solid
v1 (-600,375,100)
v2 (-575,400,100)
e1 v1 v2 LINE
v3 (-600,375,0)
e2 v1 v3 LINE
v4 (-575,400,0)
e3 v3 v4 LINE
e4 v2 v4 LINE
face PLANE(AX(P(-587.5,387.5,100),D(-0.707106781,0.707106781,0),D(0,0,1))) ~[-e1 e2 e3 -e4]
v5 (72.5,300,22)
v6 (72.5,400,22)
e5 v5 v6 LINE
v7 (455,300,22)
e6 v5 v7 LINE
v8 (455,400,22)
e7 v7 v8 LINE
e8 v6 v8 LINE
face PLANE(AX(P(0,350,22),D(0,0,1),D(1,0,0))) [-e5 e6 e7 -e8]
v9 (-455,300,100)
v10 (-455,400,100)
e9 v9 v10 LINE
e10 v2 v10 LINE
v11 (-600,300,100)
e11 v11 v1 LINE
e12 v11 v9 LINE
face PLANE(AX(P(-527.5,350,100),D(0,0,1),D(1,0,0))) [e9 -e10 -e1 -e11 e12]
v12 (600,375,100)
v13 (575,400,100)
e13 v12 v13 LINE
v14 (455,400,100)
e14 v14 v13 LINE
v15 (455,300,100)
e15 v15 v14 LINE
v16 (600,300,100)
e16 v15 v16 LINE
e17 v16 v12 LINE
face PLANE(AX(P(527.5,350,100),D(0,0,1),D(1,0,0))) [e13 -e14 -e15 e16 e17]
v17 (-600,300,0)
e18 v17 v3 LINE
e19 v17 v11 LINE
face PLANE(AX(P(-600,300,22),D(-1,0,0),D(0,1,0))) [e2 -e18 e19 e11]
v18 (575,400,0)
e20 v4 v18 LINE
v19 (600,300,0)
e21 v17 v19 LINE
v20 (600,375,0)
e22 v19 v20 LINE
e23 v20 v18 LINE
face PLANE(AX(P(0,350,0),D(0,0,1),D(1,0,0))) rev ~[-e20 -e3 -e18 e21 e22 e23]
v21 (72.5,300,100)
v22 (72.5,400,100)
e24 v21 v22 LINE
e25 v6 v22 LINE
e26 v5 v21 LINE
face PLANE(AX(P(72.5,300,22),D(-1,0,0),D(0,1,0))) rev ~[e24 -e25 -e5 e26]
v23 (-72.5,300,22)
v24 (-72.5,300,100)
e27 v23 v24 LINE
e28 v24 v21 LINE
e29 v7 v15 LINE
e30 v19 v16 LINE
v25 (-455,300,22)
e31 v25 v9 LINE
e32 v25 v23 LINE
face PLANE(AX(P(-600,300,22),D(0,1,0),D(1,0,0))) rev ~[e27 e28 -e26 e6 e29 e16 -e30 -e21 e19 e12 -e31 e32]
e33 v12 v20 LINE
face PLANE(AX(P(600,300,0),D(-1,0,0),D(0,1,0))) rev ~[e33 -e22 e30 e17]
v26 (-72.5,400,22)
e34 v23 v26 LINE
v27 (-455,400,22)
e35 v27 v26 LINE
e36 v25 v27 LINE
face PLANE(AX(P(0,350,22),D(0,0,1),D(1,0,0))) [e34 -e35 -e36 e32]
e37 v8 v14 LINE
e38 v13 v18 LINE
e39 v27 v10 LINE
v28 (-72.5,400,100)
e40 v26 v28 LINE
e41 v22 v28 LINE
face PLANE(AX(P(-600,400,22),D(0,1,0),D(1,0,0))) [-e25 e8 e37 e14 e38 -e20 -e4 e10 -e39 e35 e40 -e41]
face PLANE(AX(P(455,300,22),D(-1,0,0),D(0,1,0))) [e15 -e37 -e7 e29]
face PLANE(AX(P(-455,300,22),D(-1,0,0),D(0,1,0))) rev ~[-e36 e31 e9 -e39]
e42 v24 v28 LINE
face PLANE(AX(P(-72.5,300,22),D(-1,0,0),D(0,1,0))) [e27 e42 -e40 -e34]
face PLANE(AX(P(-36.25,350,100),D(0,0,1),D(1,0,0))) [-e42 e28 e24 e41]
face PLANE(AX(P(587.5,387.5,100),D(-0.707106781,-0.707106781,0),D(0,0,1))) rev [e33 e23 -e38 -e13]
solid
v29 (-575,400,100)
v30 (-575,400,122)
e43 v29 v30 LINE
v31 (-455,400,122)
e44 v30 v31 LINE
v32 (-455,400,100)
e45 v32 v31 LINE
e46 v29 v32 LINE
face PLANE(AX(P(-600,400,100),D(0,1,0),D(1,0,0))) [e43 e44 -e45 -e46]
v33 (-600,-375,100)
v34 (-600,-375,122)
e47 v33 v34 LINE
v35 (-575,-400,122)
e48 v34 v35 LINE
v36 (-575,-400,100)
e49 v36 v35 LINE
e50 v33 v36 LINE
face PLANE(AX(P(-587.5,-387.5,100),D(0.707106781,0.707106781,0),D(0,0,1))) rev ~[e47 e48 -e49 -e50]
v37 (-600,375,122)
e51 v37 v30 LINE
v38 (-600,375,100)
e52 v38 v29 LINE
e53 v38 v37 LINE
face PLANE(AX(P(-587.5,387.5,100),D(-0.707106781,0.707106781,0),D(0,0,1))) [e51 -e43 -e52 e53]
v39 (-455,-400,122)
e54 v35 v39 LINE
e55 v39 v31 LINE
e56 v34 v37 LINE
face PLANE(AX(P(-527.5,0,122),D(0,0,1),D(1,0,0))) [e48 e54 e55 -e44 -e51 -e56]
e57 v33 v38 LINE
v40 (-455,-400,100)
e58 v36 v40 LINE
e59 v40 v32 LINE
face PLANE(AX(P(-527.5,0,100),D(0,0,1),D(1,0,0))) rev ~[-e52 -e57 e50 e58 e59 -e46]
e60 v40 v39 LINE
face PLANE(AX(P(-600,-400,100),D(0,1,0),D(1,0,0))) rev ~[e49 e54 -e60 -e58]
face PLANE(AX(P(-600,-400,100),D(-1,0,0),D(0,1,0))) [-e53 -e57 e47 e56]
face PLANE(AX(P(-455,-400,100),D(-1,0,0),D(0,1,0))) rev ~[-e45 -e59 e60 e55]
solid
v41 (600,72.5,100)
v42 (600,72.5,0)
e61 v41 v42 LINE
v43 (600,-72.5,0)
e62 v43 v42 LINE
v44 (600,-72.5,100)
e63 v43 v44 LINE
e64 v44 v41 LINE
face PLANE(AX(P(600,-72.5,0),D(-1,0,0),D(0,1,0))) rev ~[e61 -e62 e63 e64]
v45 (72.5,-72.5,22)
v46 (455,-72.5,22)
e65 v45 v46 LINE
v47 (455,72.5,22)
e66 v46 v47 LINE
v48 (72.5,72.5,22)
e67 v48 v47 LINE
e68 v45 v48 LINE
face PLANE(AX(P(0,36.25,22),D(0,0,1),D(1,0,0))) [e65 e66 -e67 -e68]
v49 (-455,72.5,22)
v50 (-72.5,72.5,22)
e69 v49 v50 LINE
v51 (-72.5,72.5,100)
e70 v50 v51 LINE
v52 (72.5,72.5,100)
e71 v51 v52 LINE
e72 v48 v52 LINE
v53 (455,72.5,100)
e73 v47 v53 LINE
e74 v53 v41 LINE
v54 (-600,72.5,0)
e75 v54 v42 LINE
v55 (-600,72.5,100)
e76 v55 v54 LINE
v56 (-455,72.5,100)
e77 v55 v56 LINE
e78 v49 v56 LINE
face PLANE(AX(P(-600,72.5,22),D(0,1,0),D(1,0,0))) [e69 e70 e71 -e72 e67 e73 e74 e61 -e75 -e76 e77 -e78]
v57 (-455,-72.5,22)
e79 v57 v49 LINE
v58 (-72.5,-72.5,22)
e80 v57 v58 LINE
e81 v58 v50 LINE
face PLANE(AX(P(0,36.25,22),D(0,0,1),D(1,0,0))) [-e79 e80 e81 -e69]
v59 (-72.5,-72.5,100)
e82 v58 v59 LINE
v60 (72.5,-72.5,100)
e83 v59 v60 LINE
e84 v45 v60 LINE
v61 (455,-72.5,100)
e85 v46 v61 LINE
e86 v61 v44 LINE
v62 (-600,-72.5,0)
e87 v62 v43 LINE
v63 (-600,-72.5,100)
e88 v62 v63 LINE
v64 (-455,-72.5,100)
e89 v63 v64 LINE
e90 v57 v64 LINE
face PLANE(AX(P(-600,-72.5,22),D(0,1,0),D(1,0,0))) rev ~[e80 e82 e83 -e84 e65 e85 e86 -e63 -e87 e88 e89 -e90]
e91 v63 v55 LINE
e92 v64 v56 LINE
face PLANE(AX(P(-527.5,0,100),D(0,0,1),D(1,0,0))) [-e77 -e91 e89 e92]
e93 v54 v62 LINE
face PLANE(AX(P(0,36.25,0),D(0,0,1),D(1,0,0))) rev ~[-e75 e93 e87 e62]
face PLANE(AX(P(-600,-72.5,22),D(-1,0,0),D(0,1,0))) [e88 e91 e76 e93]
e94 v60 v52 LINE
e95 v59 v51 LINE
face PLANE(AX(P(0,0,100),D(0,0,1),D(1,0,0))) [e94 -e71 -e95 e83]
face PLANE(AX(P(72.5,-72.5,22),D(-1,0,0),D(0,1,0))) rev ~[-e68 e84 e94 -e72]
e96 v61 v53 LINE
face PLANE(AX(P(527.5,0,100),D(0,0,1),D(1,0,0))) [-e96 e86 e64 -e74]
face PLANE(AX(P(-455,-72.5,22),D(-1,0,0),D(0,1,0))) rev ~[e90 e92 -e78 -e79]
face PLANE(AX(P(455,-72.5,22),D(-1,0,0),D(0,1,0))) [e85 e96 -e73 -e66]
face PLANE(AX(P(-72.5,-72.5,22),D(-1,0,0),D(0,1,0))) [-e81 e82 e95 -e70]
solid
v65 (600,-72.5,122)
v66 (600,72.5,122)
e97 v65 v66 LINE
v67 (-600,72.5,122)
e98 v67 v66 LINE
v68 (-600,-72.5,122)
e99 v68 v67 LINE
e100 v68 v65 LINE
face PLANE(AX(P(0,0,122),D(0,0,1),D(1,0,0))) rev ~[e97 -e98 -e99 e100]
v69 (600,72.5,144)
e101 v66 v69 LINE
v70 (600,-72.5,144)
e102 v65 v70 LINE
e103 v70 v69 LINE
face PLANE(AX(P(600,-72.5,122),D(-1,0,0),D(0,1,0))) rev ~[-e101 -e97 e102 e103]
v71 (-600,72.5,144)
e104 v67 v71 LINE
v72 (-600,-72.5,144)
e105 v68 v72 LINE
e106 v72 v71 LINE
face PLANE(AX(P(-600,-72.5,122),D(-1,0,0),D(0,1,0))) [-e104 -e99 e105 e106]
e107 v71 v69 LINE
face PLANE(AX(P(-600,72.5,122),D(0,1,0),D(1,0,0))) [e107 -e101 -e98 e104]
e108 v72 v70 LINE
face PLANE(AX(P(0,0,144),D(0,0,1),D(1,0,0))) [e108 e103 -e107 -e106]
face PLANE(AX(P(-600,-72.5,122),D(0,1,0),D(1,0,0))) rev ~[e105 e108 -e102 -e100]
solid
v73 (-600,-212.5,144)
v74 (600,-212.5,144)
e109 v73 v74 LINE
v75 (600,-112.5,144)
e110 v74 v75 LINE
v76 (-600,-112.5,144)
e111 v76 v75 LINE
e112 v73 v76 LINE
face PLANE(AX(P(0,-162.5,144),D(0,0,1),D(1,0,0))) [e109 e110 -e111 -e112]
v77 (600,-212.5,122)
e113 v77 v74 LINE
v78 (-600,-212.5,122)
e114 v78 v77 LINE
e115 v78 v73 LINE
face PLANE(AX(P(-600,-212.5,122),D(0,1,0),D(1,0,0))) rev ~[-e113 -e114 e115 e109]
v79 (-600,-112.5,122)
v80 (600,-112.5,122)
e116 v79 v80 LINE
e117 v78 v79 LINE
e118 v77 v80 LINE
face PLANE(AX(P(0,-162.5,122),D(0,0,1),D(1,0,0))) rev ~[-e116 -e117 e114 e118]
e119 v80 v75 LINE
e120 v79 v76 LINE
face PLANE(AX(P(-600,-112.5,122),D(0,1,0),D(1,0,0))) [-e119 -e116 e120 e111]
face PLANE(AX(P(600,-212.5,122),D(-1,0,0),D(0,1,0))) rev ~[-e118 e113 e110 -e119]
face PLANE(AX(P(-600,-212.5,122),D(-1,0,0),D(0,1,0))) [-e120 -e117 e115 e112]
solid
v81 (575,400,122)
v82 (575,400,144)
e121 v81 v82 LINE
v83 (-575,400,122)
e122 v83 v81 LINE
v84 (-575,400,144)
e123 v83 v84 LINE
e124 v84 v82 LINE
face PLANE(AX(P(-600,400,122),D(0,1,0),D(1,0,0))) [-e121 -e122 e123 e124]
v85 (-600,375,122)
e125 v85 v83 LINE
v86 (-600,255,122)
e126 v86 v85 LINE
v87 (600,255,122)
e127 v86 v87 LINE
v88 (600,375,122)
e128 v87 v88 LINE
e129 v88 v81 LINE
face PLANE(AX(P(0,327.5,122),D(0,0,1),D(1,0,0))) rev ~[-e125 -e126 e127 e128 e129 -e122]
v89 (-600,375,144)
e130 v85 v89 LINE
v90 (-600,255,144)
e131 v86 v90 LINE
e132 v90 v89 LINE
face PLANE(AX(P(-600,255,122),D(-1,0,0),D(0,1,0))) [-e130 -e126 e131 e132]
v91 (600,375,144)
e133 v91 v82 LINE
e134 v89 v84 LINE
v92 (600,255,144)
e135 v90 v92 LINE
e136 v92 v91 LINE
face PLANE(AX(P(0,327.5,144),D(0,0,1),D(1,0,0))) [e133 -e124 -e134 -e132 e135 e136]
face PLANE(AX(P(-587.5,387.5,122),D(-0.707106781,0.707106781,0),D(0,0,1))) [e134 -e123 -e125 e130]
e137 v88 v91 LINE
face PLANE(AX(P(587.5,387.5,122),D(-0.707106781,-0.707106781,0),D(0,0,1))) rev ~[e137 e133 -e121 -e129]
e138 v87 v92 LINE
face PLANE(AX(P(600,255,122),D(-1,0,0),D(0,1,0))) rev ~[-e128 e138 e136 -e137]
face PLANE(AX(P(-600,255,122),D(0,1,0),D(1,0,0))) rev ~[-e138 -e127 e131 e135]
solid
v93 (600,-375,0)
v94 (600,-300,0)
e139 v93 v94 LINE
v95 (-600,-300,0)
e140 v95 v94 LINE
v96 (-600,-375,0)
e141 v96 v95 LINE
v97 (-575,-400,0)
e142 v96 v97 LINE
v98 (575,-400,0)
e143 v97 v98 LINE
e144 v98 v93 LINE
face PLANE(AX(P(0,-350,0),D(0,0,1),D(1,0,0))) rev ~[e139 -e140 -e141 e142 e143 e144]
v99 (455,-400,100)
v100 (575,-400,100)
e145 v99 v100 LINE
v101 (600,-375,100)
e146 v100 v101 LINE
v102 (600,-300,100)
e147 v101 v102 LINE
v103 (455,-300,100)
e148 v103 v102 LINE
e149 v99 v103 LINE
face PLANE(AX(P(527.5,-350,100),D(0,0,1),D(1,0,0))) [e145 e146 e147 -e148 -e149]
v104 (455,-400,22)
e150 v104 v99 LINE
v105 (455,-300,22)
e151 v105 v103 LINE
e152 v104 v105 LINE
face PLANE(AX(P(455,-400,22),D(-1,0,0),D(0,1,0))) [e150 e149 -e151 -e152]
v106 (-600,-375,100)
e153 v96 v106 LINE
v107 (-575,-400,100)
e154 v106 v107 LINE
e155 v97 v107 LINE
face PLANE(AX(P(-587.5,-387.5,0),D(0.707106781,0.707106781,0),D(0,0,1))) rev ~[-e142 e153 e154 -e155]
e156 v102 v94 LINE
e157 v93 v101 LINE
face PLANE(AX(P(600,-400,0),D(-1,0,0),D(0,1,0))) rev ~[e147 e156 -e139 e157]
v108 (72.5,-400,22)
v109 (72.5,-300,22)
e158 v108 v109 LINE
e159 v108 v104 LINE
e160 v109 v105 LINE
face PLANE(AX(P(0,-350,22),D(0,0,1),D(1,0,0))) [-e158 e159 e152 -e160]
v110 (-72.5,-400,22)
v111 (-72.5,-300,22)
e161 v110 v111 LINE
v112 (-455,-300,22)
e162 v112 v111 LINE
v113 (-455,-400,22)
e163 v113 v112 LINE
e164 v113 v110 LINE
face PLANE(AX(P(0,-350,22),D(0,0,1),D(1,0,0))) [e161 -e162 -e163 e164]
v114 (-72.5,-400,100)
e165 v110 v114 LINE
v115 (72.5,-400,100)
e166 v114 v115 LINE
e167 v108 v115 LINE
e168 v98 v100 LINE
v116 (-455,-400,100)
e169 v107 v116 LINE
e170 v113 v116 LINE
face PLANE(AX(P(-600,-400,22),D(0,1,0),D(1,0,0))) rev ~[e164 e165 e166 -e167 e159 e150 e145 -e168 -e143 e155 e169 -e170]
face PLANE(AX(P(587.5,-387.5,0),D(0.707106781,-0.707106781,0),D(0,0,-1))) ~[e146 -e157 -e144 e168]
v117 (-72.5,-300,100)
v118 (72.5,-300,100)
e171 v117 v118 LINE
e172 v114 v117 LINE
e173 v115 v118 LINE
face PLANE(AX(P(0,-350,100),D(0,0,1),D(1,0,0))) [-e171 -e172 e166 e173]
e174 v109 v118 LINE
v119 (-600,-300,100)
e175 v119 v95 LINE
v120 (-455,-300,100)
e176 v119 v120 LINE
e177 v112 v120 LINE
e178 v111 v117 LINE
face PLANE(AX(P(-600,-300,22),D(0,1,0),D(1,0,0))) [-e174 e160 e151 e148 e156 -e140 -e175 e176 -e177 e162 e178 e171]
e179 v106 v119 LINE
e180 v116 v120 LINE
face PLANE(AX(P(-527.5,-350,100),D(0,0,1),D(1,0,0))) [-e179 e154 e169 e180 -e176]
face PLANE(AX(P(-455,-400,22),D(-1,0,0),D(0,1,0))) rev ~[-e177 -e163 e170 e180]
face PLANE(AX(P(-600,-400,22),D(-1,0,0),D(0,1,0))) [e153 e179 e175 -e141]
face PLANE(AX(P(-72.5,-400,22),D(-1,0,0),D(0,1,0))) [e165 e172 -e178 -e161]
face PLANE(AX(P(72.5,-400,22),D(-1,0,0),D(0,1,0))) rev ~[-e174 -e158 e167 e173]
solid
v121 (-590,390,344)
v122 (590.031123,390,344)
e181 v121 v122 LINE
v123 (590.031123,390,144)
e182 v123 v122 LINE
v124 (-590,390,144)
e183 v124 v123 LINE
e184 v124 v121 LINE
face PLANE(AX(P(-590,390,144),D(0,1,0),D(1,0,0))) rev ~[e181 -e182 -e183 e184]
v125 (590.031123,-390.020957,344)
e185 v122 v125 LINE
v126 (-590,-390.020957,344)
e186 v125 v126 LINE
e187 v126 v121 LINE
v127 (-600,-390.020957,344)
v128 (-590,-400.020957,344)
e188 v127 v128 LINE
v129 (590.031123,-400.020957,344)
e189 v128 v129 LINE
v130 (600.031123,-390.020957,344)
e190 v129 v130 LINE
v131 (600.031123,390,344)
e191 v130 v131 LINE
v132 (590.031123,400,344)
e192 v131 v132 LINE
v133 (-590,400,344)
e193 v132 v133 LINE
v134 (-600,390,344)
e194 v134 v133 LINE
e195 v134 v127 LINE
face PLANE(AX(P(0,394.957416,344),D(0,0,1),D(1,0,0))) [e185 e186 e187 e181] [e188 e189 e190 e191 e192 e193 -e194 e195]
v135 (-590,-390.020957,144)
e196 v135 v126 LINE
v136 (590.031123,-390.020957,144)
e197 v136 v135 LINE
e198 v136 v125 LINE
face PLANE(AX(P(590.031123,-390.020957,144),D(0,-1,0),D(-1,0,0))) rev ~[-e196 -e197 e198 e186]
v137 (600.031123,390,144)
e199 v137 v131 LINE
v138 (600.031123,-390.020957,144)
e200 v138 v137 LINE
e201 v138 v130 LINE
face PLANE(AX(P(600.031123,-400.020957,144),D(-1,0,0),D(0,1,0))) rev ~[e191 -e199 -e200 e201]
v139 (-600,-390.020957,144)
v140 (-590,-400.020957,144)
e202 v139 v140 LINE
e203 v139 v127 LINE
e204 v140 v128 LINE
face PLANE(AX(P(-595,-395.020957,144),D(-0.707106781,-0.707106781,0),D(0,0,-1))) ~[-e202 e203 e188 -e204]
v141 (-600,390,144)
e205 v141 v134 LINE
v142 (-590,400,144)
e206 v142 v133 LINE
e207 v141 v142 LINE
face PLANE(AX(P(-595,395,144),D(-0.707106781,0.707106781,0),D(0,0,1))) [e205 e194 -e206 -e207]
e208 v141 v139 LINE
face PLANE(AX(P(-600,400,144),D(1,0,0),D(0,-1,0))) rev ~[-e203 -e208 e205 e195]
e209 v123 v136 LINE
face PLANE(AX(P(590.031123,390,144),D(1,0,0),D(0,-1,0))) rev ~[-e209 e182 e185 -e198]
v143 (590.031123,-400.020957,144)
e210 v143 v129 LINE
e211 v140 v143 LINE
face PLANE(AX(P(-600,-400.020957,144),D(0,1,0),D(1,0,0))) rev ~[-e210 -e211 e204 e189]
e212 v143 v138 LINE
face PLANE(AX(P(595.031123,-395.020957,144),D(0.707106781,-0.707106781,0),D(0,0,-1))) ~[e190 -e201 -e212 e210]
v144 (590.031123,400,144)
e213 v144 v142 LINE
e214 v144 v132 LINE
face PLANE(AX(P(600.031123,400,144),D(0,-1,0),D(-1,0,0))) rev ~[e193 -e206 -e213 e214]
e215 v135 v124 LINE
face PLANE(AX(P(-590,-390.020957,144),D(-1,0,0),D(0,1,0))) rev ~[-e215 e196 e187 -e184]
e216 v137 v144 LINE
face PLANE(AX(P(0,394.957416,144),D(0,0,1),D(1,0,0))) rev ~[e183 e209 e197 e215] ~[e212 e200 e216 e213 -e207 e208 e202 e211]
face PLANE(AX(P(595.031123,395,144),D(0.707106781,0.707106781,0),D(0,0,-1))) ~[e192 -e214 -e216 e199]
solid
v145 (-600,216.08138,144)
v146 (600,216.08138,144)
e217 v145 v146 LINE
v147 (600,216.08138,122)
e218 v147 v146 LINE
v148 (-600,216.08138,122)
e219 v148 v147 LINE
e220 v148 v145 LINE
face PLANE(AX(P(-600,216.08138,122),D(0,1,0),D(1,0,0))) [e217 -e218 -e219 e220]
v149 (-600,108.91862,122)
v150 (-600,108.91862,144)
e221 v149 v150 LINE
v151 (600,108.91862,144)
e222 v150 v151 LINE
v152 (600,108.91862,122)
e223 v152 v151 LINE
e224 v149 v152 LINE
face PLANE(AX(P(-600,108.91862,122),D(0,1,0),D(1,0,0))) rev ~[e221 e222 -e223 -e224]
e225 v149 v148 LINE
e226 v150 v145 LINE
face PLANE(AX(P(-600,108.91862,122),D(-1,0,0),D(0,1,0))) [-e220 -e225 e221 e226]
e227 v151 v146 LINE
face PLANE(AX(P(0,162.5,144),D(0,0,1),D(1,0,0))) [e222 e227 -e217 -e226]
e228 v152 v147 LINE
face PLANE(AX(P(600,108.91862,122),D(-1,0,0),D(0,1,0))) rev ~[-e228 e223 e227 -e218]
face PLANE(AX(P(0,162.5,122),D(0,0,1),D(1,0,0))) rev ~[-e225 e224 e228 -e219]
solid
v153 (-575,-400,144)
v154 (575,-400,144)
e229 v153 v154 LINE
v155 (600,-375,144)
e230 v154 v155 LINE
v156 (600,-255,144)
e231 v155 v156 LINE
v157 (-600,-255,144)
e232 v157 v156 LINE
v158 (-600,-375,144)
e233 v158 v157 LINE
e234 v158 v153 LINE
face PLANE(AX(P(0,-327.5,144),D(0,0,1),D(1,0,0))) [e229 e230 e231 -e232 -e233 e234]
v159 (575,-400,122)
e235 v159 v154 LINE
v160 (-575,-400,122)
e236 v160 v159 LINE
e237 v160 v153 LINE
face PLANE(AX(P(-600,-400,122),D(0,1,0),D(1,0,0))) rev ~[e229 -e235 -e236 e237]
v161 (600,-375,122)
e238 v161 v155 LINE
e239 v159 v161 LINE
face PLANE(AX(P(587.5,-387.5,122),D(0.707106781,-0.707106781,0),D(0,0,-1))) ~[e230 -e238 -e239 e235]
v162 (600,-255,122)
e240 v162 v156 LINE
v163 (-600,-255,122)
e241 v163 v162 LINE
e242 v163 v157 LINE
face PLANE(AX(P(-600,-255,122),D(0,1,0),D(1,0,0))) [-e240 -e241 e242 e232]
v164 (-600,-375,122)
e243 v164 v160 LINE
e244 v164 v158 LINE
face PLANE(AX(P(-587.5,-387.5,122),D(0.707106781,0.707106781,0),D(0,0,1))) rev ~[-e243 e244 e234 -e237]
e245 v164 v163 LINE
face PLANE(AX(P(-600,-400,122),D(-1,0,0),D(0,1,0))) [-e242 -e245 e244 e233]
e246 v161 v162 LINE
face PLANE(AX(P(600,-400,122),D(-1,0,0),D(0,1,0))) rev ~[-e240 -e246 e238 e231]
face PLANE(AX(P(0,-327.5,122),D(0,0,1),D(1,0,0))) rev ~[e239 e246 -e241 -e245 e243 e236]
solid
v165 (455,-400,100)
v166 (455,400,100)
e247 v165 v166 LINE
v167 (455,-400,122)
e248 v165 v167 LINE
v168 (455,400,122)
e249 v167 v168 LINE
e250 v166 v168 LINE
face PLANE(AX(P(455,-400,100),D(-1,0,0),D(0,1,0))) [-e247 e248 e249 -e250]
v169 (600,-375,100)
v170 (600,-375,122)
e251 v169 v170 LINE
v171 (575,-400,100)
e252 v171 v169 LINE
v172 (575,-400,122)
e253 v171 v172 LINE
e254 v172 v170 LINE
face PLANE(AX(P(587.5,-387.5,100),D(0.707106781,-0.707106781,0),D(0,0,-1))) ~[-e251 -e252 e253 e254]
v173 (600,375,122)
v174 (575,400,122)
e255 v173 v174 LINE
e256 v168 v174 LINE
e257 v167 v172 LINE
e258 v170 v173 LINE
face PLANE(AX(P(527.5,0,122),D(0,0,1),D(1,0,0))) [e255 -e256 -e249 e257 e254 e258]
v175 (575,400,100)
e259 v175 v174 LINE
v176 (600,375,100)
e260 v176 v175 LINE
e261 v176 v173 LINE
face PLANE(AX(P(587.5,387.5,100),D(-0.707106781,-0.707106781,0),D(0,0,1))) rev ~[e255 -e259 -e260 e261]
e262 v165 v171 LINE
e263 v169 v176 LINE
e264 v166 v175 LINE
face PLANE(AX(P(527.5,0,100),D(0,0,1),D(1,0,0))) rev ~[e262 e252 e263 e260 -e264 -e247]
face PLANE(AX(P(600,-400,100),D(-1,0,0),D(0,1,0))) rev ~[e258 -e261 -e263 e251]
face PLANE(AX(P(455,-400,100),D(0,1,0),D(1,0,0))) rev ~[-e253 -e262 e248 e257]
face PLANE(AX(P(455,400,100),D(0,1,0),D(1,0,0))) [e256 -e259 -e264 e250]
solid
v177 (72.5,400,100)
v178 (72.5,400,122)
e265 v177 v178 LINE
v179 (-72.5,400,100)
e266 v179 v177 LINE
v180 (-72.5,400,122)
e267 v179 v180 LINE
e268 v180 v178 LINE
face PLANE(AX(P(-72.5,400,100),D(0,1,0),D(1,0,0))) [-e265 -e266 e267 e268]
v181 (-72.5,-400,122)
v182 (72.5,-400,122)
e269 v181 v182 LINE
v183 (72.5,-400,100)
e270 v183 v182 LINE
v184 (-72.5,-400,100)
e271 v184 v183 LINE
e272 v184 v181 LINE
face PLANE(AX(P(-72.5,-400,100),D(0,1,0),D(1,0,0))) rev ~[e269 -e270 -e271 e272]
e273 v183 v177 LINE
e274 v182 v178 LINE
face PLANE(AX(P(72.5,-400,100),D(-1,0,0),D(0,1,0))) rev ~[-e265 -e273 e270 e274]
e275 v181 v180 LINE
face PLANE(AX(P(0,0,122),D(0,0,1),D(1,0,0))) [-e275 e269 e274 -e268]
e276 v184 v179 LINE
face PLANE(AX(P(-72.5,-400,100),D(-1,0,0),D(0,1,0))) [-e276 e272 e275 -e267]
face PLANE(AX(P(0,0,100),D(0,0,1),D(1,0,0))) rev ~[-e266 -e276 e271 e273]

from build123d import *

# Parameters (mm, degrees)
F0_W       = 1200
F0_H       = 100
F1_DEPTH   = 22
F0_H_2     = 72.5
F2_W       = 145
F2_H       = 100
F2_W_2     = 72.5
F3_DEPTH   = 78
F4_W       = 145
F4_H       = 145
F5_DEPTH   = 78
F6_W       = 145
F6_H       = 100
F7_DEPTH   = 78
F8_W       = 145
F8_H       = 800
F9_DEPTH   = 22
F10_W      = 145
F10_H      = 800
F11_DEPTH  = 22
F12_W      = 145
F12_H      = 800
F13_DEPTH  = 22
F14_W      = 1200
F14_H      = 145
F15_DEPTH  = 22
F16_W      = 1200
F16_H      = 145
F17_DEPTH  = 22
F18_W      = 1200
F18_H      = 145
F19_DEPTH  = 22
F20_W      = 1200
F20_H      = 107.1627608397
F21_DEPTH  = 22
F22_W      = 1200
F22_H      = 100
F23_DEPTH  = 22
F24_SIZE   = 25
F24_2_SIZE = 25
F24_3_SIZE = 25
F24_4_SIZE = 25
F24_5_SIZE = 25
F24_6_SIZE = 25
F26_DEPTH  = 200
F27_SIZE   = 10


with BuildPart() as f1:
    # F0 (on Top) → F1 (new body)
    with BuildSketch(Plane.XY):
        with Locations((0, 350)):
            Rectangle(F0_W, F0_H)
    extrude(amount=F1_DEPTH)

    # F2 (on face) → F3 (join)
    with BuildSketch(Plane.XY.offset(22)):
        with Locations((-527.5, 350)):
            Rectangle(F2_W, F2_H)
        with Locations((-36.25, 350)):
            Rectangle(F2_W_2, F2_H)
        with Locations((36.25, 350)):
            Rectangle(F2_W_2, F2_H)
        with Locations((527.5, 350)):
            Rectangle(F2_W, F2_H)
    extrude(amount=F3_DEPTH)

    # F24#6
    f24_6_edges = [f1.edges().sort_by_distance(p)[0] for p in [
        (600, 400, 50),
        (-600, 400, 50),
    ]]
    chamfer(f24_6_edges, length=F24_6_SIZE)


with BuildPart() as f1b:
    # F0 (on Top) → F1, piece 2 (new body)
    with BuildSketch(Plane.XY):
        with Locations((0, 36.25)):
            Rectangle(F0_W, F0_H_2)
        with Locations((0, -36.25)):
            Rectangle(F0_W, F0_H_2)
    extrude(amount=F1_DEPTH)

    # F4 (on face) → F5 (join)
    with BuildSketch(Plane.XY.offset(22)):
        with Locations((-527.5, 0)):
            Rectangle(F4_W, F4_H)
        Rectangle(F4_W, F4_H)
        with Locations((527.5, 0)):
            Rectangle(F4_W, F4_H)
    extrude(amount=F5_DEPTH)


with BuildPart() as f1c:
    # F0 (on Top) → F1, piece 3 (new body)
    with BuildSketch(Plane.XY):
        with Locations((0, -350)):
            Rectangle(F0_W, F0_H)
    extrude(amount=F1_DEPTH)

    # F6 (on face) → F7 (join)
    with BuildSketch(Plane.XY.offset(22)):
        with Locations((-527.5, -350)):
            Rectangle(F6_W, F6_H)
        with Locations((0, -350)):
            Rectangle(F6_W, F6_H)
        with Locations((527.5, -350)):
            Rectangle(F6_W, F6_H)
    extrude(amount=F7_DEPTH)

    # F24#3
    f24_3_edges = [f1c.edges().sort_by_distance(p)[0] for p in [
        (-600, -400, 50),
        (600, -400, 50),
    ]]
    chamfer(f24_3_edges, length=F24_3_SIZE)


with BuildPart() as f9:
    # F8 (on face) → F9 (new body)
    with BuildSketch(Plane.XY.offset(100)):
        with Locations((-527.5, 0)):
            Rectangle(F8_W, F8_H)
    extrude(amount=F9_DEPTH)

    # F24#2
    f24_2_edges = [f9.edges().sort_by_distance(p)[0] for p in [
        (-600, -400, 111),
        (-600, 400, 111),
    ]]
    chamfer(f24_2_edges, length=F24_2_SIZE)


with BuildPart() as f11:
    # F10 (on face) → F11 (new body)
    with BuildSketch(Plane.XY.offset(100)):
        Rectangle(F10_W, F10_H)
    extrude(amount=F11_DEPTH)


with BuildPart() as f13:
    # F12 (on face) → F13 (new body)
    with BuildSketch(Plane.XY.offset(100)):
        with Locations((527.5, 0)):
            Rectangle(F12_W, F12_H)
    extrude(amount=F13_DEPTH)

    # F24#4
    f24_4_edges = [f13.edges().sort_by_distance(p)[0] for p in [
        (600, -400, 111),
        (600, 400, 111),
    ]]
    chamfer(f24_4_edges, length=F24_4_SIZE)


with BuildPart() as f15:
    # F14 (on face) → F15 (new body)
    with BuildSketch(Plane.XY.offset(122)):
        with Locations((0, 327.5)):
            Rectangle(F14_W, F14_H)
    extrude(amount=F15_DEPTH)

    # F24#5
    f24_5_edges = [f15.edges().sort_by_distance(p)[0] for p in [
        (600, 400, 133),
        (-600, 400, 133),
    ]]
    chamfer(f24_5_edges, length=F24_5_SIZE)


with BuildPart() as f17:
    # F16 (on face) → F17 (new body)
    with BuildSketch(Plane.XY.offset(122)):
        Rectangle(F16_W, F16_H)
    extrude(amount=F17_DEPTH)


with BuildPart() as f19:
    # F18 (on face) → F19 (new body)
    with BuildSketch(Plane.XY.offset(122)):
        with Locations((0, -327.5)):
            Rectangle(F18_W, F18_H)
    extrude(amount=F19_DEPTH)

    # F24
    f24_edges = [f19.edges().sort_by_distance(p)[0] for p in [
        (-600, -400, 133),
        (600, -400, 133),
    ]]
    chamfer(f24_edges, length=F24_SIZE)


with BuildPart() as f21:
    # F20 (on face) → F21 (new body)
    with BuildSketch(Plane.XY.offset(122)):
        with Locations((0, 162.5)):
            Rectangle(F20_W, F20_H)
    extrude(amount=F21_DEPTH)


with BuildPart() as f23:
    # F22 (on face) → F23 (new body)
    with BuildSketch(Plane.XY.offset(122)):
        with Locations((0, -162.5)):
            Rectangle(F22_W, F22_H)
    extrude(amount=F23_DEPTH)


with BuildPart() as f26:
    # F25 (on face) → F26 (new body)
    with BuildSketch(Plane.XY.offset(144)):
        Polygon((575, 400), (-575, 400), (-585, 390), (585, 390), align=None)
        Polygon((-575, 400), (-600, 400), (-600, 375), (-590, 385), (-590, 390), (-585, 390), align=None)
        Polygon((-590, 385), (-600, 375), (-600, 255), (-590, 255), align=None)
        Polygon((600.0311231613, 400), (575, 400), (585, 390), (590.0311231613, 390), (590.0311231613, 384.9688768387), (600, 375), (600, 255), (590.0311231613, 255), (590.0311231613, -390.0209569931), (-590, -390.0209569931), (-590, 255), (-600, 255), (-600, -400.0209569931), (600.0311231613, -400.0209569931), align=None)
        Polygon((600, 375), (590.0311231613, 384.9688768387), (590.0311231613, 255), (600, 255), align=None)
    extrude(amount=F26_DEPTH)

    # F27
    f27_edges = [f26.edges().sort_by_distance(p)[0] for p in [
        (600.031123, -400.020957, 244),
        (600.031123, 400, 244),
        (-600, -400.020957, 244),
        (-600, 400, 244),
    ]]
    chamfer(f27_edges, length=F27_SIZE)


solid = Compound([f1.part, f1b.part, f1c.part, f9.part, f11.part, f13.part, f15.part, f17.part, f19.part, f21.part, f23.part, f26.part])
